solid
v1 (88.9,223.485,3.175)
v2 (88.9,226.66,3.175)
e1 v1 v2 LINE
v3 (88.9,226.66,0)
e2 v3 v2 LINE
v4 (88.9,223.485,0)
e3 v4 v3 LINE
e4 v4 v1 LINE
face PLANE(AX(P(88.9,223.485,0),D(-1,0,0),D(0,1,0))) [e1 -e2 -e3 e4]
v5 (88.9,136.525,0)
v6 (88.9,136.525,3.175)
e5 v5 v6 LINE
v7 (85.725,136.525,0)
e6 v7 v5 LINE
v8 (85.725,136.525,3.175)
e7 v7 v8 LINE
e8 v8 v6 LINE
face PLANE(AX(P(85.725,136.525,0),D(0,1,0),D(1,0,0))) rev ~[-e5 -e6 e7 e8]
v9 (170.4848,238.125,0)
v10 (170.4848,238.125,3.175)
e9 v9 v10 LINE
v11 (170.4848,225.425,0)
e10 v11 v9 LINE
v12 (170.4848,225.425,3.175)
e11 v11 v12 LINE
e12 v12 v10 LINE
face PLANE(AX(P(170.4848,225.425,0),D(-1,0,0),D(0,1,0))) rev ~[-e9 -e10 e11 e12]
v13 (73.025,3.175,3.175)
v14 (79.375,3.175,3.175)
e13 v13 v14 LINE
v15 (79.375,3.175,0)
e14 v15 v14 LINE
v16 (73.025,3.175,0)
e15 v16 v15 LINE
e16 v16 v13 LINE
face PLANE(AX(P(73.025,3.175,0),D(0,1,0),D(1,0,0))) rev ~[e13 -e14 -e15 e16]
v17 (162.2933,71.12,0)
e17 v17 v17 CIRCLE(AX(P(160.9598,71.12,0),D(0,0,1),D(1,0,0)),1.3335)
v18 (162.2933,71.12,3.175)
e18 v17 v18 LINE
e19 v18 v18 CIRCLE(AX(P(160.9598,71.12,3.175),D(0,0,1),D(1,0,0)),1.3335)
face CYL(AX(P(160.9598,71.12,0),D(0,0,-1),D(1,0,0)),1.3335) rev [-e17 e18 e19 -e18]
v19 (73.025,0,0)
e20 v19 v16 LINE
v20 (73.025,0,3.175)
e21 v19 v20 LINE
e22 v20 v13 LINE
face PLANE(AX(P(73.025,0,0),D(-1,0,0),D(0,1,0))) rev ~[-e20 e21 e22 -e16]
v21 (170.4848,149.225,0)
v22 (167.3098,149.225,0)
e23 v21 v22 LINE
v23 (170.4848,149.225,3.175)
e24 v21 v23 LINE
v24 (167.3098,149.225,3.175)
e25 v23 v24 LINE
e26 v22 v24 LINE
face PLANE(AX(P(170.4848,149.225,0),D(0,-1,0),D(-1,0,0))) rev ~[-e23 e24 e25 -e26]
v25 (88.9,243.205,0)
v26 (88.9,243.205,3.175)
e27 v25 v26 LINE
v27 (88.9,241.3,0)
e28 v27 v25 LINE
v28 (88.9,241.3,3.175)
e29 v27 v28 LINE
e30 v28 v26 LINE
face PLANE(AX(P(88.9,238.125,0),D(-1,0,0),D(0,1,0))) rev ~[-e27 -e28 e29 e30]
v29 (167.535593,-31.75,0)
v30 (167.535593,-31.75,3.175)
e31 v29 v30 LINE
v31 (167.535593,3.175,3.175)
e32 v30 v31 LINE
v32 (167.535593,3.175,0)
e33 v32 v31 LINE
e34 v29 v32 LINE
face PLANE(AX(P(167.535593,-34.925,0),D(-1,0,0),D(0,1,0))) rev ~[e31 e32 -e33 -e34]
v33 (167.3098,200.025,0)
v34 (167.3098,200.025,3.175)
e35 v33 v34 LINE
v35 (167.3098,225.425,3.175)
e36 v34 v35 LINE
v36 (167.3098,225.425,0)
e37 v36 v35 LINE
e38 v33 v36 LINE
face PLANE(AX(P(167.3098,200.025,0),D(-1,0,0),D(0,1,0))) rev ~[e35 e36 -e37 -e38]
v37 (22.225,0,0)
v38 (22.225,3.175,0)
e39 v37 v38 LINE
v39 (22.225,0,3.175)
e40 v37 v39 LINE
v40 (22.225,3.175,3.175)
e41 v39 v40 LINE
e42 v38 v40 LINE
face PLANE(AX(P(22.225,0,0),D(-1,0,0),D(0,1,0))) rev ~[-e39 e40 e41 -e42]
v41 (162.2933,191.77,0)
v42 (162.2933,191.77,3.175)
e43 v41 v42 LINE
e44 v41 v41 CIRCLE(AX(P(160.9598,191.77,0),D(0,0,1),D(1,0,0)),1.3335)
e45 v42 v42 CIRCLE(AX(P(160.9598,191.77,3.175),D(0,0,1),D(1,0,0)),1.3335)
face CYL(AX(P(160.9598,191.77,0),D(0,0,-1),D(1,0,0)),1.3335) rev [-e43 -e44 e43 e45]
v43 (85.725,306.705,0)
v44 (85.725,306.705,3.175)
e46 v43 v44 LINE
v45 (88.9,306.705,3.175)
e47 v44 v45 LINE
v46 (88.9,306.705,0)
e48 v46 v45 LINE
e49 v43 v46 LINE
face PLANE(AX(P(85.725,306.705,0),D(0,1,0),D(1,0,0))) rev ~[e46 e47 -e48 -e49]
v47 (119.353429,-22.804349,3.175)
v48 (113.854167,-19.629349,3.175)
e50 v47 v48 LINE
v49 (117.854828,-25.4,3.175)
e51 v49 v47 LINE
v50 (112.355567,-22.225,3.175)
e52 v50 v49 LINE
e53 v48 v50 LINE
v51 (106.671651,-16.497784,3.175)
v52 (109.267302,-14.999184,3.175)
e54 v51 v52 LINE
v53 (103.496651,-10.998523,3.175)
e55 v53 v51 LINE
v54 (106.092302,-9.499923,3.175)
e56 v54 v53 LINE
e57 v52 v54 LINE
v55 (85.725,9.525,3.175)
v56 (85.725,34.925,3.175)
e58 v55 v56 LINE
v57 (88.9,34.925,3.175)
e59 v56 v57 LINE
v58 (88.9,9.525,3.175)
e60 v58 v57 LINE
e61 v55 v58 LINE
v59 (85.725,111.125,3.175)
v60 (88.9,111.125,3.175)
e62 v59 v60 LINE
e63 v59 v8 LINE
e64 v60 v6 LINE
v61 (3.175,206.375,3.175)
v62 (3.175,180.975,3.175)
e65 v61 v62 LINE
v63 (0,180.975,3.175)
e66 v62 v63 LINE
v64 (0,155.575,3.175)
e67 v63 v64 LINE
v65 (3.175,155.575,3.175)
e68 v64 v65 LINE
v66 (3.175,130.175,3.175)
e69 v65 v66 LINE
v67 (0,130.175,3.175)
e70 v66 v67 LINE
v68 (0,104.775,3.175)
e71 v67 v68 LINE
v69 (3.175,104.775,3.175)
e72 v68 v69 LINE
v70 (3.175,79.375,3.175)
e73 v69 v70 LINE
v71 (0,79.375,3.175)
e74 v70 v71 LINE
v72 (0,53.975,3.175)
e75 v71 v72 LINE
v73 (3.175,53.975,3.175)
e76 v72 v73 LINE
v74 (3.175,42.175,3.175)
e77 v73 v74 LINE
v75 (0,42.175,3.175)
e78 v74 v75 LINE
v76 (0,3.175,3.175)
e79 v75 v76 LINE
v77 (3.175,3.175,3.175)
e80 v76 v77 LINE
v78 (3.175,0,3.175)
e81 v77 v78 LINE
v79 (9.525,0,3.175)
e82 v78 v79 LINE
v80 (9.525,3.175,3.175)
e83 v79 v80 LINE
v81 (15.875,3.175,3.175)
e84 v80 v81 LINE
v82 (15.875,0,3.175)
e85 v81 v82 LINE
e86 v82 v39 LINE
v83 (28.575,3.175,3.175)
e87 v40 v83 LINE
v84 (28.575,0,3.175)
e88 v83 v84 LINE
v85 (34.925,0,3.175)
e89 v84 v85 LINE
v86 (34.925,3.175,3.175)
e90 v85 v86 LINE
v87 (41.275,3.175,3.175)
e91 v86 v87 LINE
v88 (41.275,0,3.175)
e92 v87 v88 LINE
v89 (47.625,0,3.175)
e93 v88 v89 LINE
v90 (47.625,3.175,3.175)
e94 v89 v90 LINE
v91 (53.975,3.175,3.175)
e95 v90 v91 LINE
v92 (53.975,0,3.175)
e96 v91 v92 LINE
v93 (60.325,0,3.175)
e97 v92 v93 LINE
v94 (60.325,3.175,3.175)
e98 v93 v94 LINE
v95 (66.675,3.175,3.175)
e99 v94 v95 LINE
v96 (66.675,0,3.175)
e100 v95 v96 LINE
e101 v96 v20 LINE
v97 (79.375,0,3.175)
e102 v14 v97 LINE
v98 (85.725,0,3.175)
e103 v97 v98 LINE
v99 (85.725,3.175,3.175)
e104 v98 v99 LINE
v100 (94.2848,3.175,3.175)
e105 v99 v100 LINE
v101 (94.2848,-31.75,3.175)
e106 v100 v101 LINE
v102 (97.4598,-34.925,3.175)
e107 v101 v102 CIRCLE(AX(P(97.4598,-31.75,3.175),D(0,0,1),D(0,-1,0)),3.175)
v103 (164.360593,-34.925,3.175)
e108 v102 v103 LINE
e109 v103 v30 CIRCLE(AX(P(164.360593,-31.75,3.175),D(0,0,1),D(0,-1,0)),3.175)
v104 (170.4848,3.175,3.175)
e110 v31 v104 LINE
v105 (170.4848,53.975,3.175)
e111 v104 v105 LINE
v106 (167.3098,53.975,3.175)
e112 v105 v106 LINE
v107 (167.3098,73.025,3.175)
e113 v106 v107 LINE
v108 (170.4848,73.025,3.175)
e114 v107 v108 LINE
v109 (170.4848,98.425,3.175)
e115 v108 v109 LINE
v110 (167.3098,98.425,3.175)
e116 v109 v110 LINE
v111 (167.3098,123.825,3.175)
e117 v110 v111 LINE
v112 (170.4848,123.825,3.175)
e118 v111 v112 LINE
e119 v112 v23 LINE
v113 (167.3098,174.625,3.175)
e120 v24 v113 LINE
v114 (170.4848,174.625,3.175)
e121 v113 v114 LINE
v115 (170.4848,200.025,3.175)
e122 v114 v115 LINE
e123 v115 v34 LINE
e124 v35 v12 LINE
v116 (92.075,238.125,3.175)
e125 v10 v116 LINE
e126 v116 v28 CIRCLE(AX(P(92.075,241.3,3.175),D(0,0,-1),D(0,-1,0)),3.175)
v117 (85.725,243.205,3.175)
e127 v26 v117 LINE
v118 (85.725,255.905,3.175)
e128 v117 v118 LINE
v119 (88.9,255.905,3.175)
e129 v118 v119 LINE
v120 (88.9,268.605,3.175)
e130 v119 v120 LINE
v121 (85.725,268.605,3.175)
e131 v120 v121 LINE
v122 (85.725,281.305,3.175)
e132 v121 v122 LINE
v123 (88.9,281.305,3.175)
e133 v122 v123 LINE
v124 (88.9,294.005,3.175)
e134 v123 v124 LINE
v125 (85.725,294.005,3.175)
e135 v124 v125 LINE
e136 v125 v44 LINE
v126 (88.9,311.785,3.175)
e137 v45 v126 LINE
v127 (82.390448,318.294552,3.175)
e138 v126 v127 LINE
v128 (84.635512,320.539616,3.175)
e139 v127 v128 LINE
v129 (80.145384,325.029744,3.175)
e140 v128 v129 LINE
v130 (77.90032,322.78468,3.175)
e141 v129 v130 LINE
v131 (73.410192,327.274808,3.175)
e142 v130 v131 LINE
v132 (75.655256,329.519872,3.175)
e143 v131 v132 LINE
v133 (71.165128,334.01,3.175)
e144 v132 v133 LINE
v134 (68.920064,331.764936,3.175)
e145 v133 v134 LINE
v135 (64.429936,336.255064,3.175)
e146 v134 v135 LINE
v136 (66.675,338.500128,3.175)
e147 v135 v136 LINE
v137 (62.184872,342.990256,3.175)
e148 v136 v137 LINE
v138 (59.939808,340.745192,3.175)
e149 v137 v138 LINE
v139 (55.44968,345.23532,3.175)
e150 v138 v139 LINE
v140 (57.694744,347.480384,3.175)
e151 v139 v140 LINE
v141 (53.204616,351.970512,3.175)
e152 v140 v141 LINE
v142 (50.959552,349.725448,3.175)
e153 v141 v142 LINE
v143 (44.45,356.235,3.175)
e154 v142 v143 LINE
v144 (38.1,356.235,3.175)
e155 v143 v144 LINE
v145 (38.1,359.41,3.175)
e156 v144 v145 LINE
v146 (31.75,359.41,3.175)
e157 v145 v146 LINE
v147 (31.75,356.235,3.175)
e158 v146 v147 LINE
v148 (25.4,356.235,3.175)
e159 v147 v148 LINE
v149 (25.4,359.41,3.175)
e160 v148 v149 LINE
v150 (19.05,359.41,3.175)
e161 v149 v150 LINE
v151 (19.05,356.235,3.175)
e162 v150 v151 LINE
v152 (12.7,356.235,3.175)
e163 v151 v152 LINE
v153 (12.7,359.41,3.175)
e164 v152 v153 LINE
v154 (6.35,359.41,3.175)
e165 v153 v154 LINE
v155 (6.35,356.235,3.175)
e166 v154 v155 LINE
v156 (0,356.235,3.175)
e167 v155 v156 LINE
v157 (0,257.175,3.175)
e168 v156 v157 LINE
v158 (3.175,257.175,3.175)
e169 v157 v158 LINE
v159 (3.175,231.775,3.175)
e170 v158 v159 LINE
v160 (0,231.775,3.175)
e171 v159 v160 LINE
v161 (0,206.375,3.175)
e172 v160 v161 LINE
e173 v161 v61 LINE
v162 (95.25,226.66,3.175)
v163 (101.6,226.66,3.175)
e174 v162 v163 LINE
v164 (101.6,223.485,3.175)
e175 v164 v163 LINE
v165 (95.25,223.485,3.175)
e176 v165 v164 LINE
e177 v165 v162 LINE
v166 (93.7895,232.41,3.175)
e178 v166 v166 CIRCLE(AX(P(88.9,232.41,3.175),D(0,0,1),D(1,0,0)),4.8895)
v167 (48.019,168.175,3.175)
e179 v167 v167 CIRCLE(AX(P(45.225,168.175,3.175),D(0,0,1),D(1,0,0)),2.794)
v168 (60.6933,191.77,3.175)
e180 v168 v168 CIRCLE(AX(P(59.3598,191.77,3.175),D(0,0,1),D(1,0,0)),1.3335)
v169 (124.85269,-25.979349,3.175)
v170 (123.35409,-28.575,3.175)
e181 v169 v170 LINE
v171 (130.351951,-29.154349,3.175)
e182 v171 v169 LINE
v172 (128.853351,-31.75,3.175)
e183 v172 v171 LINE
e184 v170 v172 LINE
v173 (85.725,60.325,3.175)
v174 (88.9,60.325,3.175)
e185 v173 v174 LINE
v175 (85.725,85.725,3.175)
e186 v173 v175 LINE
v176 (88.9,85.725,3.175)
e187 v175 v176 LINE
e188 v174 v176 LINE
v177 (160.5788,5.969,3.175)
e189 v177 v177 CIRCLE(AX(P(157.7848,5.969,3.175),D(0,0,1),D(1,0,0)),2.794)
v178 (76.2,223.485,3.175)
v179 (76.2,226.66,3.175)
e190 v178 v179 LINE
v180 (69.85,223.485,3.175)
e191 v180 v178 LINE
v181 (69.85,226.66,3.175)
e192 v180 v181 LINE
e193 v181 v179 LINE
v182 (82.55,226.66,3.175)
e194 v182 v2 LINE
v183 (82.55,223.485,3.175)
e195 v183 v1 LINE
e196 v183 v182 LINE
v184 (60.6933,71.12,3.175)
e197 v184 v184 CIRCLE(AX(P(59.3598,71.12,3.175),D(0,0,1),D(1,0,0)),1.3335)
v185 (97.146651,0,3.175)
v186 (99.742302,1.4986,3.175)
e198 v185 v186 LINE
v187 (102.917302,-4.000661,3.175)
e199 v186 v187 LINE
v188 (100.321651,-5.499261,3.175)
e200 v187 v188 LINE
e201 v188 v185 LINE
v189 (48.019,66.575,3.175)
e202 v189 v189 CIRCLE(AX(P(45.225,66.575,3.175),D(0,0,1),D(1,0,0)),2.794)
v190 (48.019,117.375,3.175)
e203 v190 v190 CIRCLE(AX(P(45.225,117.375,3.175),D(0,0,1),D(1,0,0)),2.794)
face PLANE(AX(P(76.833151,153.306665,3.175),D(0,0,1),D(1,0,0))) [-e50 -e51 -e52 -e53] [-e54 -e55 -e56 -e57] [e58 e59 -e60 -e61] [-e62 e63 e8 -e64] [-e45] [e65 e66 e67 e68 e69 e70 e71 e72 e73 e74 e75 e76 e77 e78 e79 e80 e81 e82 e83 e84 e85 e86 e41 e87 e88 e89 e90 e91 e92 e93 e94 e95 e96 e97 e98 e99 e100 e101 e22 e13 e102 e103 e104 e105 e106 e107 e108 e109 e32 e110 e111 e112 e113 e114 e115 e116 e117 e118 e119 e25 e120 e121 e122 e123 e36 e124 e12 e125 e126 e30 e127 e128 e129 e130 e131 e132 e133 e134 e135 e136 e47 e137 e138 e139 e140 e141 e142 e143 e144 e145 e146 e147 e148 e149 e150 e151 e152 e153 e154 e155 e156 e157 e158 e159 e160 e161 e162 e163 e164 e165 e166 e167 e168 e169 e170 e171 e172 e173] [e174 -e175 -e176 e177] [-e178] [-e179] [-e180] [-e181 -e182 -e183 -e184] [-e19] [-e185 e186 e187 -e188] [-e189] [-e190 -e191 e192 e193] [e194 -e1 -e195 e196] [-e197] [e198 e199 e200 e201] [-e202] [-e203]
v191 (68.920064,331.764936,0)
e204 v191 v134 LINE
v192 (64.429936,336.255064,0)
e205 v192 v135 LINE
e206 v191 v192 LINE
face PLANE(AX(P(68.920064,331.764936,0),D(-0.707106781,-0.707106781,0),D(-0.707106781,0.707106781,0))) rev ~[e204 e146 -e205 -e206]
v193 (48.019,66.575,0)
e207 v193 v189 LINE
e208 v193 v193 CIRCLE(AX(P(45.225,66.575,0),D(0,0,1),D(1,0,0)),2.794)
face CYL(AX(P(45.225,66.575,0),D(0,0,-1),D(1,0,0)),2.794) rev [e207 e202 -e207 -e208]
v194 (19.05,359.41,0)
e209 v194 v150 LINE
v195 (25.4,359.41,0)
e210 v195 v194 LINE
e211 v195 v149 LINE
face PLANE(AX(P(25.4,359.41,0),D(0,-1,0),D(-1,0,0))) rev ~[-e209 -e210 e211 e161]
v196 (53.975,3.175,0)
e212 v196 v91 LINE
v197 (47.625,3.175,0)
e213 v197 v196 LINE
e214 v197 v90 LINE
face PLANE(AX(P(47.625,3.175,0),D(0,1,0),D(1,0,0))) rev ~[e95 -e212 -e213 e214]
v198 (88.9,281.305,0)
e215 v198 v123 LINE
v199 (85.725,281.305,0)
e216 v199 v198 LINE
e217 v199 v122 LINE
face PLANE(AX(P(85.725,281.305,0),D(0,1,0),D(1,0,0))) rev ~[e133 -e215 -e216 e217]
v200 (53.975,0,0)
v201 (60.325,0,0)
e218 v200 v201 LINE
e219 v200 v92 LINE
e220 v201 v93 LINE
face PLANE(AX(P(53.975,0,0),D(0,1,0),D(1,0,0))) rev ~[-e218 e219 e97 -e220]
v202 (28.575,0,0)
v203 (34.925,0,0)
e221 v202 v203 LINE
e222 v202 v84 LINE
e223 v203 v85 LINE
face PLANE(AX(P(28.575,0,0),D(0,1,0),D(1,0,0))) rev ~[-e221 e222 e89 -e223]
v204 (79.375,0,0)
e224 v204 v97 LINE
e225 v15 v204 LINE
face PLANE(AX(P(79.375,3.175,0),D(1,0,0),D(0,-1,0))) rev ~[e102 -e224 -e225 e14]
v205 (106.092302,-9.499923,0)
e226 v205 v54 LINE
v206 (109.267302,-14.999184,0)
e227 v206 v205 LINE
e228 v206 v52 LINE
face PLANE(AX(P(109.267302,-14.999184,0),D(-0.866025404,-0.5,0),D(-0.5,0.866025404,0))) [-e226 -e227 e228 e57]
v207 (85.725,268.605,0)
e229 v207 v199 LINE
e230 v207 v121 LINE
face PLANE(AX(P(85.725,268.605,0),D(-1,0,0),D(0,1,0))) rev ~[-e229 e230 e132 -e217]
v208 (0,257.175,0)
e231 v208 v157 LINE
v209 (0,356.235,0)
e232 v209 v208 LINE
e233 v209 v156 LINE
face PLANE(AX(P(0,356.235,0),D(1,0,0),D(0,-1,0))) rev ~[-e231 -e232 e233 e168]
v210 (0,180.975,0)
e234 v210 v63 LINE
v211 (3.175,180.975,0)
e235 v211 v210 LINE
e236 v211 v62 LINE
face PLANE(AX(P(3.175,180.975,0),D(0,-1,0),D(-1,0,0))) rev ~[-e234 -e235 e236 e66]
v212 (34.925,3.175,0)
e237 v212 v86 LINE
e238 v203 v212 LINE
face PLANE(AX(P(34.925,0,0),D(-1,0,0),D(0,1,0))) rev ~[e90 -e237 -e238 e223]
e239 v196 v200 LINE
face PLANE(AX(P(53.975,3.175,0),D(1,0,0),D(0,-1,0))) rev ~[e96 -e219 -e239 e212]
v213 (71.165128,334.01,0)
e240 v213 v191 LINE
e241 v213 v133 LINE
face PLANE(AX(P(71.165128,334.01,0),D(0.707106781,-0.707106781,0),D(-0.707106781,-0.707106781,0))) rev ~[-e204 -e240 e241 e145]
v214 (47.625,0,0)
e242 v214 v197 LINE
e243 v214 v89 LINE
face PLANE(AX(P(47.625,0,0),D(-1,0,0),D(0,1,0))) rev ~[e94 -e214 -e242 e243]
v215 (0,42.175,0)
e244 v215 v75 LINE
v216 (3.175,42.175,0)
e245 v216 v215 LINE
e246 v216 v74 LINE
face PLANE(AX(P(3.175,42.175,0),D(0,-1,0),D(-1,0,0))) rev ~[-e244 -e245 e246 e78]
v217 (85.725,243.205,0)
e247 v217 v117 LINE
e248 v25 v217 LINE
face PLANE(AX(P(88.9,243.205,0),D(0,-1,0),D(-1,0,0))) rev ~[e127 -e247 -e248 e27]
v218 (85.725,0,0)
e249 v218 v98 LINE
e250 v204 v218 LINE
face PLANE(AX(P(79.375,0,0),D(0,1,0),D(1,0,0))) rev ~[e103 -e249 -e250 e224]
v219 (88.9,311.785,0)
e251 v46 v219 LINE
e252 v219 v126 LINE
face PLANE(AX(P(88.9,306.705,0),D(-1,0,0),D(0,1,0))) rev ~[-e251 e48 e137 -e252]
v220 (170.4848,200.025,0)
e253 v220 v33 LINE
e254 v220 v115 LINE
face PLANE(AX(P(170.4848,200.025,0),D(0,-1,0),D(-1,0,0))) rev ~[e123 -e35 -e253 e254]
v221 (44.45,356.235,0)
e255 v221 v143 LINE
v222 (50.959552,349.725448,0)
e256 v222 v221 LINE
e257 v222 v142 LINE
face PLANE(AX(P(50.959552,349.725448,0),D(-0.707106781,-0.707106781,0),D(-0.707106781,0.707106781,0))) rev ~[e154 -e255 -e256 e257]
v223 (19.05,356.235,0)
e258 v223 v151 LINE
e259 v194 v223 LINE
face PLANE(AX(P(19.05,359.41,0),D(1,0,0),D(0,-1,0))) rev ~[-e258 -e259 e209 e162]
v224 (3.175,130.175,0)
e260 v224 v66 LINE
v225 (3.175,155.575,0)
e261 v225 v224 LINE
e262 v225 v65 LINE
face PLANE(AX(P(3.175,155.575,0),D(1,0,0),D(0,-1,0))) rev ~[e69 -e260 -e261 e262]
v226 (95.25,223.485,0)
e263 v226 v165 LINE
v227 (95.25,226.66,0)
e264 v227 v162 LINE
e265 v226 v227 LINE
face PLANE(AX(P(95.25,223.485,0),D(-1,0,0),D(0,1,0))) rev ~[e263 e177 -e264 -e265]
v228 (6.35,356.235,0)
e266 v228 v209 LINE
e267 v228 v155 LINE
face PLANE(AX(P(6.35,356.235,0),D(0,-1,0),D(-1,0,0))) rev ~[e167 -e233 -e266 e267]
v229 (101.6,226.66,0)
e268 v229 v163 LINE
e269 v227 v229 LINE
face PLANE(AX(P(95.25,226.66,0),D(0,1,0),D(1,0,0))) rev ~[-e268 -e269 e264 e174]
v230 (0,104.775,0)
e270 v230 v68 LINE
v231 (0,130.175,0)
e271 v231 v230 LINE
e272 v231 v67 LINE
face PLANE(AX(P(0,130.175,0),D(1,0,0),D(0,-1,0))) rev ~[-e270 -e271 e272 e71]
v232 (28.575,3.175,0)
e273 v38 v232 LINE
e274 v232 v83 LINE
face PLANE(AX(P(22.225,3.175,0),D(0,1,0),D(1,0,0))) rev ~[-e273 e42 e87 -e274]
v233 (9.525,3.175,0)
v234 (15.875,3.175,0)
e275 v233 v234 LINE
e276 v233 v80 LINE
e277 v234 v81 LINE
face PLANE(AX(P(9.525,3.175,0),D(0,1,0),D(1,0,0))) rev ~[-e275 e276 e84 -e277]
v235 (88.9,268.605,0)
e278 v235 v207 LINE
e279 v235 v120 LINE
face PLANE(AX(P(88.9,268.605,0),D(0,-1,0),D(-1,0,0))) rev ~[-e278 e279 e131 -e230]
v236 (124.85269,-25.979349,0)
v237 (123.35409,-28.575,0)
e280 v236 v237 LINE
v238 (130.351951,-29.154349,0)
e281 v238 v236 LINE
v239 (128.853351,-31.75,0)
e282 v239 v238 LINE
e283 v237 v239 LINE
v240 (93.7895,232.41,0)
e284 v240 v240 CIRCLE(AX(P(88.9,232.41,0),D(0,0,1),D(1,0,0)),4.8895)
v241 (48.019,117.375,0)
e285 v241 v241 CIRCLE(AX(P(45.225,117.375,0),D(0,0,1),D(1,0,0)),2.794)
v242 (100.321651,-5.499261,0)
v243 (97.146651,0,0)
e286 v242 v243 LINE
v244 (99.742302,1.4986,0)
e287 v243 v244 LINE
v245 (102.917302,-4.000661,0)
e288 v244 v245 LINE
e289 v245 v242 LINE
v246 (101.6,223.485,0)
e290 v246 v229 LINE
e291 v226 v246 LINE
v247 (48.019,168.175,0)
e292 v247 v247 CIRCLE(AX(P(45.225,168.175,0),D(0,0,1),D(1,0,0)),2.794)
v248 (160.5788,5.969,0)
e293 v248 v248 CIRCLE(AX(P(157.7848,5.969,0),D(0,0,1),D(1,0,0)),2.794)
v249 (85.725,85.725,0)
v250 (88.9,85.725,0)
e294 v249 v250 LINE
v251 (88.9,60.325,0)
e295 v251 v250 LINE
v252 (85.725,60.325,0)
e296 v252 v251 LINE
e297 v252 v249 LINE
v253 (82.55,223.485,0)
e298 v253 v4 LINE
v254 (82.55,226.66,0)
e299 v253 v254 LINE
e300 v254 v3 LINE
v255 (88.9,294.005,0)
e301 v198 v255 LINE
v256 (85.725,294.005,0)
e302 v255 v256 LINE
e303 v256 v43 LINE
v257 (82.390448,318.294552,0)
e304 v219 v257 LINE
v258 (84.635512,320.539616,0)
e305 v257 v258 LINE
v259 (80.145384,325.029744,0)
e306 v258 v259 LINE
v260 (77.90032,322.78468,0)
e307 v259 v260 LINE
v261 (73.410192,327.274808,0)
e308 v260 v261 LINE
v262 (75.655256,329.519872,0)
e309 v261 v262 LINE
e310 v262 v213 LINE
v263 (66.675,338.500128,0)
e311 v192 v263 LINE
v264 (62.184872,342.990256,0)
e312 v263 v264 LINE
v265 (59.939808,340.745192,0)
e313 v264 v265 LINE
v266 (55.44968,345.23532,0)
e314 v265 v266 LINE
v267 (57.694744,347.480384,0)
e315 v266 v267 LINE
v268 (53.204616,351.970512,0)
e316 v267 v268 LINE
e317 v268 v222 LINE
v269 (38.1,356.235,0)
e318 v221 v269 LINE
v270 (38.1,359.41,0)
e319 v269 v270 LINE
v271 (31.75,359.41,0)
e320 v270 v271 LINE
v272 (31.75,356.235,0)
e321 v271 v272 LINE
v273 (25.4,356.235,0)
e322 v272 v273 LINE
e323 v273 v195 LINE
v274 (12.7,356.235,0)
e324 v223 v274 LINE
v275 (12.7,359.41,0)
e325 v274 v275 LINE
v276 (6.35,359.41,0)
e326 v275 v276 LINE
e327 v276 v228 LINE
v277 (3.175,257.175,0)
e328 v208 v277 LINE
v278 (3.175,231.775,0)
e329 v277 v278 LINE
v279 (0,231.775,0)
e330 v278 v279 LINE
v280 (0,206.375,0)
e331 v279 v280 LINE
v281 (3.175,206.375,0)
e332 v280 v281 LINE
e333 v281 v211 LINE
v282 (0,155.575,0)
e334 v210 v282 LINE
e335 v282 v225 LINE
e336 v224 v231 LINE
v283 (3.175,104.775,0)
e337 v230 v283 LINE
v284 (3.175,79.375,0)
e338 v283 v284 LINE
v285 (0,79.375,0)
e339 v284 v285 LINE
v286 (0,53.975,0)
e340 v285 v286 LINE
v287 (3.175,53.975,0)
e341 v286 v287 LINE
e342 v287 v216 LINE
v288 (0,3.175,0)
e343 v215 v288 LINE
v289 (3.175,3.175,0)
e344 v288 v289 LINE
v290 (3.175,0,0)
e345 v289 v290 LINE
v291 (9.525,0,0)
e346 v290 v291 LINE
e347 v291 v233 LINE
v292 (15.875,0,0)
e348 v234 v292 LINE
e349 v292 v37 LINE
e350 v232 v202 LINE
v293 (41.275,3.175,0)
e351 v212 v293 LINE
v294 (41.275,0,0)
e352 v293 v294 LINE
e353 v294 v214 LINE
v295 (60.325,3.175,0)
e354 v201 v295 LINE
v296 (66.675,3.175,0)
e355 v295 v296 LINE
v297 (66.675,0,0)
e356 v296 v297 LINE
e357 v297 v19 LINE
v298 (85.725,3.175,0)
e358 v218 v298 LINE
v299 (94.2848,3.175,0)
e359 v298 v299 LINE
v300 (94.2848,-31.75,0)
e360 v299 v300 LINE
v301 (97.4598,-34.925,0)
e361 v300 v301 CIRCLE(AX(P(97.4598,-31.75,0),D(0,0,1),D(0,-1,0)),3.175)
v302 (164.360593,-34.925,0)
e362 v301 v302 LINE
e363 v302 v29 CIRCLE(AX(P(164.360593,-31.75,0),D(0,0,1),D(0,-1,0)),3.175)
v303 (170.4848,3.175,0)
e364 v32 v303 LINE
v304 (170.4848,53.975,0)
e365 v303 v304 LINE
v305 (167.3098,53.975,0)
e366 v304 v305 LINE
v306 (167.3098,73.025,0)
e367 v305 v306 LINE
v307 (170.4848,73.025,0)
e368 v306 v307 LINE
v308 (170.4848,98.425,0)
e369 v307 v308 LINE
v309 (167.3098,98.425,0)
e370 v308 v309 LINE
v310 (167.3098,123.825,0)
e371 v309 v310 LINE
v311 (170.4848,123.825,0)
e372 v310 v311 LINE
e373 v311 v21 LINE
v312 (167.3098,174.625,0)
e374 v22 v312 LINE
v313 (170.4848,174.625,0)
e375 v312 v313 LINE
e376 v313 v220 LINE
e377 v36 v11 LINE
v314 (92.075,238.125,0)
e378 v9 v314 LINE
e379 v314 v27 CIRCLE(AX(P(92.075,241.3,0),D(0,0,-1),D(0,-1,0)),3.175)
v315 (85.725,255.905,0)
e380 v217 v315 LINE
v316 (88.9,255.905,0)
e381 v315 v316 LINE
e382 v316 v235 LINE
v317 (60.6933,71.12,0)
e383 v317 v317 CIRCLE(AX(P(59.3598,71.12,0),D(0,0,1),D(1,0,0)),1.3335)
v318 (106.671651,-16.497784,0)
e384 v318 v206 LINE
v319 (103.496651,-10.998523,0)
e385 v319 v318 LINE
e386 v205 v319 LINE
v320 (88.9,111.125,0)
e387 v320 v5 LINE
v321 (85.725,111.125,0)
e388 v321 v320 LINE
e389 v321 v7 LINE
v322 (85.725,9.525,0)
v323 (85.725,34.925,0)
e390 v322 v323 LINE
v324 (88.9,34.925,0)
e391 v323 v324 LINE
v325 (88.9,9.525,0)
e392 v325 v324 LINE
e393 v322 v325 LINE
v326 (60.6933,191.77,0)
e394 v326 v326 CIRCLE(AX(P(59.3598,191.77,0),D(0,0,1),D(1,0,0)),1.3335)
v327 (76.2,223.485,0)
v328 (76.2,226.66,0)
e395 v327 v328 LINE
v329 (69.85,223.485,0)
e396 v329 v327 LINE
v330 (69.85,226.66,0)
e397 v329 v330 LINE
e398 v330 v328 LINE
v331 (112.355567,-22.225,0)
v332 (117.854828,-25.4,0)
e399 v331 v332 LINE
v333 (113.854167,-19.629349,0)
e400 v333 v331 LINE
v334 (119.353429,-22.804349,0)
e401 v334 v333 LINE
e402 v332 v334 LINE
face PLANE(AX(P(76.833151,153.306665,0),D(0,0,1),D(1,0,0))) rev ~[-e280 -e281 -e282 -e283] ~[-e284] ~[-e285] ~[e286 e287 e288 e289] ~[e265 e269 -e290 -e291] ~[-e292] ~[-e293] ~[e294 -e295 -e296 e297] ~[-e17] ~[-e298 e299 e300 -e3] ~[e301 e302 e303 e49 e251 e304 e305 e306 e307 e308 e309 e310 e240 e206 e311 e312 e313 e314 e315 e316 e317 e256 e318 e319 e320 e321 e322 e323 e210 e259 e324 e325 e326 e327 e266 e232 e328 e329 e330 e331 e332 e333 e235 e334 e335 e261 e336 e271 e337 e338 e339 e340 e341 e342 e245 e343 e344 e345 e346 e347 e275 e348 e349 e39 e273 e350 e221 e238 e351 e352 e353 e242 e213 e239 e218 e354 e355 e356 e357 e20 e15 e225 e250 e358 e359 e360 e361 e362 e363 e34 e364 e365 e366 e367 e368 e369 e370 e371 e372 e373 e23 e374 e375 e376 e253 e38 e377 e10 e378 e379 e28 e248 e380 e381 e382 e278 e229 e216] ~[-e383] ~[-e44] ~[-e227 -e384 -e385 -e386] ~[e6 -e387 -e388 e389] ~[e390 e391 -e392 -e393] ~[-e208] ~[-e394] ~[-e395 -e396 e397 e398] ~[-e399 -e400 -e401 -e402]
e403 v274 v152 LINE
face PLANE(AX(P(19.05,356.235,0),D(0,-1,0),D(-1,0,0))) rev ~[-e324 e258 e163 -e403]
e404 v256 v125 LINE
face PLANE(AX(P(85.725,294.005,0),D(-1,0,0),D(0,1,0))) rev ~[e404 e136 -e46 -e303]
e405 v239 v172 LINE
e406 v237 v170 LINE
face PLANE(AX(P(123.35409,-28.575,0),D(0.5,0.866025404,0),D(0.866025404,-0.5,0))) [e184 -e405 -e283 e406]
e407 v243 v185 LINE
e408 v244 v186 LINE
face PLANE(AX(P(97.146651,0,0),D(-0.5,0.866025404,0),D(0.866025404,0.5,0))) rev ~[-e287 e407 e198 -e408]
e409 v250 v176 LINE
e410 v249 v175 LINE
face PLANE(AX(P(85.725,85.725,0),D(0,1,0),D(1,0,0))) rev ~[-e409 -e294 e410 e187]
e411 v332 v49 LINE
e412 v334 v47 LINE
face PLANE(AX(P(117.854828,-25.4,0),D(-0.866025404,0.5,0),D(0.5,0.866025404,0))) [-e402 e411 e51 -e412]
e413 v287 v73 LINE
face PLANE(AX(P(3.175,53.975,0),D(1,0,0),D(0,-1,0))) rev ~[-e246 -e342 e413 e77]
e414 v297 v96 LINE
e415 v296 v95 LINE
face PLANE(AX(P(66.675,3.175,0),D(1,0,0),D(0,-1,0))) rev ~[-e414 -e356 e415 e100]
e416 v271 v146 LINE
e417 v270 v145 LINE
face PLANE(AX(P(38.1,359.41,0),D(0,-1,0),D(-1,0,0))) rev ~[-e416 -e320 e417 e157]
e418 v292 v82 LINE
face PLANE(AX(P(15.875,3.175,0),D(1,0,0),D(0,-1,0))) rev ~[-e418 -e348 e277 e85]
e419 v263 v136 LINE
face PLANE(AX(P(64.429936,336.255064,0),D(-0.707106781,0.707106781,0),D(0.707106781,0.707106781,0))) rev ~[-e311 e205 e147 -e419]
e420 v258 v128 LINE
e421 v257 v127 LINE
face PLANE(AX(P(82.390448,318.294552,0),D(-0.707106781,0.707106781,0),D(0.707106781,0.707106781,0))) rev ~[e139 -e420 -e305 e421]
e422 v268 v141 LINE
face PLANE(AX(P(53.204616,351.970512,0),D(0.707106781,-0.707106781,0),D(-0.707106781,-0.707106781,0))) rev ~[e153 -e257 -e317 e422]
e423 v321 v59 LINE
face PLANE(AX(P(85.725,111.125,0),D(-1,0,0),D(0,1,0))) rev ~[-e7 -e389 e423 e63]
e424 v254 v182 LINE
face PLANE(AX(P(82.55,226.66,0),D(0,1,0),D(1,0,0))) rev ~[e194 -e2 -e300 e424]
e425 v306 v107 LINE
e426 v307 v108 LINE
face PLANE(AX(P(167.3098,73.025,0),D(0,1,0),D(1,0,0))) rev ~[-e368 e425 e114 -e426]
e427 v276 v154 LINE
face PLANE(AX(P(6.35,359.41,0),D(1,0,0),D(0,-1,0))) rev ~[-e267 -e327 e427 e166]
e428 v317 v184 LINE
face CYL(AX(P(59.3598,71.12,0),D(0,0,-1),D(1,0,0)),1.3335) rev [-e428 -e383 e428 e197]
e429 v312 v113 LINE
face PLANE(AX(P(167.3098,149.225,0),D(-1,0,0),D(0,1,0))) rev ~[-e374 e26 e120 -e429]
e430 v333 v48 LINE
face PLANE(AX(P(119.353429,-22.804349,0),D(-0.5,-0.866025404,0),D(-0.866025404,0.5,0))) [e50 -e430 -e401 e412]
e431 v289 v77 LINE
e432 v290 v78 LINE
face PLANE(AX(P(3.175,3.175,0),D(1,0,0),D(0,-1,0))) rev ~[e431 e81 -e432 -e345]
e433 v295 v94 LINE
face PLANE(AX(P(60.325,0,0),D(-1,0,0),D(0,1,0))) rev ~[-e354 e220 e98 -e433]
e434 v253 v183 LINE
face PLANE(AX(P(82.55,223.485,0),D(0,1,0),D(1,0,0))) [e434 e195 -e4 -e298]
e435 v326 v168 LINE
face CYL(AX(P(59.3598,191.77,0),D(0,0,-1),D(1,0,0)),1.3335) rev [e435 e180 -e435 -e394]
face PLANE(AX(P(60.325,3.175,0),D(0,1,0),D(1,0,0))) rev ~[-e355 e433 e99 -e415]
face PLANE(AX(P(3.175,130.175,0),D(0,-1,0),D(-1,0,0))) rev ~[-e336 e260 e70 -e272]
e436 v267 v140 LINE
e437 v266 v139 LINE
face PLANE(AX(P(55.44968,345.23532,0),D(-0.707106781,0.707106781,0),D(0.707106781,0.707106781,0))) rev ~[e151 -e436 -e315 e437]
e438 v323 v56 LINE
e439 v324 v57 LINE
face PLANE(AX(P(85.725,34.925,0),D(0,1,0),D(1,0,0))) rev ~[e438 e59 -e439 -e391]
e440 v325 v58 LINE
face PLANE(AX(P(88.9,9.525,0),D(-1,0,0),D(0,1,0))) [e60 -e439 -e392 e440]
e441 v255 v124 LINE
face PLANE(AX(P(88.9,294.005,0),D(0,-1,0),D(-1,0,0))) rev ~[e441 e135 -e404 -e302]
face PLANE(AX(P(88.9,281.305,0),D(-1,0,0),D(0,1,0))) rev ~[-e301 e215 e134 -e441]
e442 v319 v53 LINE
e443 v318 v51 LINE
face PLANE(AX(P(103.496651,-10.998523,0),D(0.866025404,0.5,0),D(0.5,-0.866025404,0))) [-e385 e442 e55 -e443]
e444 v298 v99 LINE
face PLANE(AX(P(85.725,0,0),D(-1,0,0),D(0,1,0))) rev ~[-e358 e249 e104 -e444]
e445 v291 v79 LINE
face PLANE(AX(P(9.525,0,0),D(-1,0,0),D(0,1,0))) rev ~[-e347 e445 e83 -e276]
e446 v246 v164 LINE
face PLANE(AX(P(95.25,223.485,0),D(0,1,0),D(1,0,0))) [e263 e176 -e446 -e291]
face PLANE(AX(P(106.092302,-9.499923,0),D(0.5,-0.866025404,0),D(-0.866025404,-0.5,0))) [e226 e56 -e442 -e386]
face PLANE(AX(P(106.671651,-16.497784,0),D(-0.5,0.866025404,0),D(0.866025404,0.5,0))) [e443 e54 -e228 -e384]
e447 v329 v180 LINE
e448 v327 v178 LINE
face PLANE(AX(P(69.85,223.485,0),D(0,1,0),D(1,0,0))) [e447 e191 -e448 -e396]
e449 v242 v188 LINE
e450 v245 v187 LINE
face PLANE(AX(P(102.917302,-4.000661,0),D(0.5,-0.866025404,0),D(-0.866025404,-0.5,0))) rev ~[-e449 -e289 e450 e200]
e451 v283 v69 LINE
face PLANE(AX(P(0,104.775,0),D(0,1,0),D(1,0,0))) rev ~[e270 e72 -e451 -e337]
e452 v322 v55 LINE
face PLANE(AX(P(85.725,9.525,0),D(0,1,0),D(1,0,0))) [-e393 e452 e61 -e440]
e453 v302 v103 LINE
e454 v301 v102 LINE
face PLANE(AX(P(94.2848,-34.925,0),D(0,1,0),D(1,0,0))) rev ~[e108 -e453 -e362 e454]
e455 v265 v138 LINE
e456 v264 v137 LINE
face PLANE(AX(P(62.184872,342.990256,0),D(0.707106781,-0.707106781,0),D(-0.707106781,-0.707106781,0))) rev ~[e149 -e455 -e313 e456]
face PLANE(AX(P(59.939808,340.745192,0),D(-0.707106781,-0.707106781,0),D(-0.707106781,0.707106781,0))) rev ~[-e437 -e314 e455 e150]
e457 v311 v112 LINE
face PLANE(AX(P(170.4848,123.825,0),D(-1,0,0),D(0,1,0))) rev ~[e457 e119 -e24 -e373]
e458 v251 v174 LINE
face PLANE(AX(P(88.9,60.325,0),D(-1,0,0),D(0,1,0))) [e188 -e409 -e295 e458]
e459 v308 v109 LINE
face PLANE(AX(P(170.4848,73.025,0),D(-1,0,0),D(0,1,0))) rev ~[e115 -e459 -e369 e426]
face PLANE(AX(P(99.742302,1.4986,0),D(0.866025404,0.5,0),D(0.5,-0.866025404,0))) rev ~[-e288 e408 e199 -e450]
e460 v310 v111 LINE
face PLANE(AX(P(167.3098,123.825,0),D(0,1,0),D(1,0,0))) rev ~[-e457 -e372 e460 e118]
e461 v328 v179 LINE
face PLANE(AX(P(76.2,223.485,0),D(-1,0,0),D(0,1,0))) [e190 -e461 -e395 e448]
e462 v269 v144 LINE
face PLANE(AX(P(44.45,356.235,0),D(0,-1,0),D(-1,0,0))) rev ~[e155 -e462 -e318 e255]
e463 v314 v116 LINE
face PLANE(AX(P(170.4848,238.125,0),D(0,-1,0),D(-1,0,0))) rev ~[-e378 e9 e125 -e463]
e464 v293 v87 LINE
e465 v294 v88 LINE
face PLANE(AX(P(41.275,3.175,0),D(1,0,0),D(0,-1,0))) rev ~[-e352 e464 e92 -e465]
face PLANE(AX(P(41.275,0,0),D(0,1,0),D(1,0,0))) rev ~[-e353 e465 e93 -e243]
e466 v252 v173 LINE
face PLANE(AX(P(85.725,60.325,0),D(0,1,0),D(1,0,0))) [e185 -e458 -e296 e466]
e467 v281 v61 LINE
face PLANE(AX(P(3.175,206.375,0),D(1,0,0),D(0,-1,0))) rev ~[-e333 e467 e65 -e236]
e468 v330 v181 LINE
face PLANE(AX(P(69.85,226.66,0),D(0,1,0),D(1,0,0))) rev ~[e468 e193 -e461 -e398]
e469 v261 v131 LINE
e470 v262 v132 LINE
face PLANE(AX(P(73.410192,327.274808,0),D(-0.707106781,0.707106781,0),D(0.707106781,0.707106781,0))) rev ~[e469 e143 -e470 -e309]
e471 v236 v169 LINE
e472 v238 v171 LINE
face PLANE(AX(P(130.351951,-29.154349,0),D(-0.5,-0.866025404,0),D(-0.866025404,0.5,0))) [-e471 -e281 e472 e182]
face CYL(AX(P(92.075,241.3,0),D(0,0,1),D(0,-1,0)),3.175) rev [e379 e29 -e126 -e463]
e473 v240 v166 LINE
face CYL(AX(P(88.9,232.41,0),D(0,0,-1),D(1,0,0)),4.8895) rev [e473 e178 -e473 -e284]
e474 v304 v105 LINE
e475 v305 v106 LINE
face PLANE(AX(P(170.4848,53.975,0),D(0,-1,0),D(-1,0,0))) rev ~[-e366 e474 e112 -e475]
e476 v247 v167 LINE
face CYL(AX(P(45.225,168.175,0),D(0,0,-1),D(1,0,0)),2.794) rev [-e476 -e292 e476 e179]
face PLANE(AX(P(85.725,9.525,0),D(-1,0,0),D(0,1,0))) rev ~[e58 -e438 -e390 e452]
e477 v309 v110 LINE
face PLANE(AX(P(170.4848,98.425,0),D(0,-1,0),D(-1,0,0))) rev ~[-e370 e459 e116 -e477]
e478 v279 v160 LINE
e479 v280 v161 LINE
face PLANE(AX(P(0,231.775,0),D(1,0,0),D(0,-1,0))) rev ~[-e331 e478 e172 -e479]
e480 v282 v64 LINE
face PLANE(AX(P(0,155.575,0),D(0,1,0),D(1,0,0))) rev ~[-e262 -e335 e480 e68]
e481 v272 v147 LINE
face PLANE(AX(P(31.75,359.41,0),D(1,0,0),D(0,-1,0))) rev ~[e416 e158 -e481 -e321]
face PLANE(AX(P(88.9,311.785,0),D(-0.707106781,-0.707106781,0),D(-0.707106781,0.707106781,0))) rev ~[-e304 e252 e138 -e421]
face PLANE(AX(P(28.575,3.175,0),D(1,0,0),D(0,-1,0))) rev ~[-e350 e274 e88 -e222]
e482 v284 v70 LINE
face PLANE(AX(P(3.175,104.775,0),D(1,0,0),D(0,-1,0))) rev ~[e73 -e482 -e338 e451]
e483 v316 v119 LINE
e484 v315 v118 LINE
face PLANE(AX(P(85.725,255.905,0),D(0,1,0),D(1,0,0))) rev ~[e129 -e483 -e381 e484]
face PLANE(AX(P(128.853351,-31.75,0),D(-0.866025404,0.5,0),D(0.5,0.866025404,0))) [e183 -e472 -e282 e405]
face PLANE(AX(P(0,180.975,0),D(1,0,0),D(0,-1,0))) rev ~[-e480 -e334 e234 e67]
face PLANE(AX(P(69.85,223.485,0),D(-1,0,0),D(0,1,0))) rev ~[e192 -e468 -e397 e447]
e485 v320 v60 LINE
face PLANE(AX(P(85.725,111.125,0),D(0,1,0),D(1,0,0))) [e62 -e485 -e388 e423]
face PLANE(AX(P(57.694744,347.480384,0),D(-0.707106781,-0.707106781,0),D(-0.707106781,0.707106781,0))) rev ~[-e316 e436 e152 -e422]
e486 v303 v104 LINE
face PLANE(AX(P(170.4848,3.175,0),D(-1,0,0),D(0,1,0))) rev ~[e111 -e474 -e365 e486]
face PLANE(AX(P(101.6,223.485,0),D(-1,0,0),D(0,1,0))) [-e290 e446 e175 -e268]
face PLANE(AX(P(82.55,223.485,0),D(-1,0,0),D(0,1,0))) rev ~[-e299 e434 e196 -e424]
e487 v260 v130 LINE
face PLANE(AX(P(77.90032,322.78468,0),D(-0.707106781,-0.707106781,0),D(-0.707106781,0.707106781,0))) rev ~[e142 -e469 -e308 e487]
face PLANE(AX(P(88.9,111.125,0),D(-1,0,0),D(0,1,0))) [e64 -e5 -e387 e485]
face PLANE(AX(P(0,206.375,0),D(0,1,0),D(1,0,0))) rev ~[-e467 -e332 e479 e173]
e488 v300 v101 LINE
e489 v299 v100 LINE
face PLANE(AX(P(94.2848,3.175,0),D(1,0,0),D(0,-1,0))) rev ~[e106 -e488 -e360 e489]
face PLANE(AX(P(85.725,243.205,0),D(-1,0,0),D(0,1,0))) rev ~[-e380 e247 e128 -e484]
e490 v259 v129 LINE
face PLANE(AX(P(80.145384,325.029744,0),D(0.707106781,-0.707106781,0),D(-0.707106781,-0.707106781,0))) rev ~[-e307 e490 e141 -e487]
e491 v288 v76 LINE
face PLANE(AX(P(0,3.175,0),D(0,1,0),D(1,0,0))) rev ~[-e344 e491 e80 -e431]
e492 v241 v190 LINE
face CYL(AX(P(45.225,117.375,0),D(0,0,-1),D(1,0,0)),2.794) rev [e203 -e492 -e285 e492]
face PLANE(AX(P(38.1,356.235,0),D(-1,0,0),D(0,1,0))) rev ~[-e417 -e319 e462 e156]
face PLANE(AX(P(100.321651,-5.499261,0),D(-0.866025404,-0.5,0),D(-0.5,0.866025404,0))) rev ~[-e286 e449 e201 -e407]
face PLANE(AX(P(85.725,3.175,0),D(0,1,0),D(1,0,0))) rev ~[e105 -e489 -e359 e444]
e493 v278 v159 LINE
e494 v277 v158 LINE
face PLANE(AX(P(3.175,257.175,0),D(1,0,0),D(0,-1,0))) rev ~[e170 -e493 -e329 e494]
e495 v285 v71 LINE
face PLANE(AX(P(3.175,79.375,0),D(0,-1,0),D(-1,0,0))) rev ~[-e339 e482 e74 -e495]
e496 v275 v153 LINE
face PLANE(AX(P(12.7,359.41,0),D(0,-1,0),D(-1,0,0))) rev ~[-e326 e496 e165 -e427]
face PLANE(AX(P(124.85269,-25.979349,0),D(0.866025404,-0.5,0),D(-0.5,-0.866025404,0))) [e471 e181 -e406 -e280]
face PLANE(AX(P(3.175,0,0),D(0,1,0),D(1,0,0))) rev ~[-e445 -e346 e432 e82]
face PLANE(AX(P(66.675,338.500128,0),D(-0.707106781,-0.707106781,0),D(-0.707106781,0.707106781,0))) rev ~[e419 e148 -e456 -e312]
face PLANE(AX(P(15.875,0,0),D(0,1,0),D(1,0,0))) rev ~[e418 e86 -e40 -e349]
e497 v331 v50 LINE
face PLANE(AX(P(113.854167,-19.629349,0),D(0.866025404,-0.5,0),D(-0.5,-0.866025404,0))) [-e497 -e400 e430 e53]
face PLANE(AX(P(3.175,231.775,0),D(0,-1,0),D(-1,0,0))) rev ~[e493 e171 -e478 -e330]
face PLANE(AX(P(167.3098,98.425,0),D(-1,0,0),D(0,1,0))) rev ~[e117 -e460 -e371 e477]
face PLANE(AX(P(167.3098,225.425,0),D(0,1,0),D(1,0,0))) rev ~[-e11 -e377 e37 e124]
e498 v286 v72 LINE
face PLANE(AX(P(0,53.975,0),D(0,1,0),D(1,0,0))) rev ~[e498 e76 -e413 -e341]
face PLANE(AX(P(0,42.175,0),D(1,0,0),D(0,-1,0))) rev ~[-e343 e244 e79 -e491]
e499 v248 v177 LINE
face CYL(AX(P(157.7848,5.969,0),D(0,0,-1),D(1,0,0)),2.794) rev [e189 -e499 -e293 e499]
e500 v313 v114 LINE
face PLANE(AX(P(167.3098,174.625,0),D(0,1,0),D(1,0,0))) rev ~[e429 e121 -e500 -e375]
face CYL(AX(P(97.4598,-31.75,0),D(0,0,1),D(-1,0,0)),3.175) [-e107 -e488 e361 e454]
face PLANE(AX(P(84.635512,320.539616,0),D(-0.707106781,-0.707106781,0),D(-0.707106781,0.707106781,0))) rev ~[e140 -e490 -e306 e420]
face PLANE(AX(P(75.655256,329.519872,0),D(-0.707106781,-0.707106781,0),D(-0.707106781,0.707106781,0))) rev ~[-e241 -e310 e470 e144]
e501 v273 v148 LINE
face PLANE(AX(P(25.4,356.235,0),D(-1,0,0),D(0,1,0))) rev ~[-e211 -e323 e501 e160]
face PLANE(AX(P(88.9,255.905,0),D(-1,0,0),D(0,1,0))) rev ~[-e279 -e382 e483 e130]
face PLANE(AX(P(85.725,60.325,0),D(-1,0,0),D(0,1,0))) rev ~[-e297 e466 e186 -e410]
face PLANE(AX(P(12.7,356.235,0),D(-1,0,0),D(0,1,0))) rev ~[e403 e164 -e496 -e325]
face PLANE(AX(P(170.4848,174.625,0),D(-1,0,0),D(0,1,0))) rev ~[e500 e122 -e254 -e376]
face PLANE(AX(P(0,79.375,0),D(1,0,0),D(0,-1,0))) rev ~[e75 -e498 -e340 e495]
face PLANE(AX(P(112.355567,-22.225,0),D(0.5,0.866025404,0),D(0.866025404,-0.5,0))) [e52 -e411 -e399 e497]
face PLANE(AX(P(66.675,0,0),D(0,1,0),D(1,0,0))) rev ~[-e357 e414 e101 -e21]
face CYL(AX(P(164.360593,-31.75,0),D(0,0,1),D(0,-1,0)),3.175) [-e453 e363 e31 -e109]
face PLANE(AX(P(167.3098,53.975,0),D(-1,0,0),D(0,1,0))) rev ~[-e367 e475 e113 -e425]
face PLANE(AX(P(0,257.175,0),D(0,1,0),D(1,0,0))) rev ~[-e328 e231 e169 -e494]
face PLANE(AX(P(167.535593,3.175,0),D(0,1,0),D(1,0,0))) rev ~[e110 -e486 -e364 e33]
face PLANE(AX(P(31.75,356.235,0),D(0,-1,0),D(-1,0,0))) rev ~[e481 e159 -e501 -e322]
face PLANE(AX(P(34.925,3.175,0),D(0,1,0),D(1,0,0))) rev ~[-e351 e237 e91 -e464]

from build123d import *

# Parameters (mm, degrees)
SKETCH1_R           = 4.8895
SKETCH1_R_2         = 1.3335
SKETCH1_R_3         = 2.794
SKETCH1_W           = 3.175
SKETCH1_H           = 25.4
SKETCH1_W_2         = 6.35
SKETCH1_H_2         = 3.175
BOSS_EXTRUDE2_DEPTH = 3.175
FILLET1_R           = 3.175


with BuildPart() as part:
    # Sketch1 → Boss-Extrude2 (new body)
    with BuildSketch(Plane.XY):
        Polygon((0, 3.175), (3.175, 3.175), (3.175, 0), (9.525, 0), (9.525, 3.175), (15.875, 3.175), (15.875, 0), (22.225, 0), (22.225, 3.175), (28.575, 3.175), (28.575, 0), (34.925, 0), (34.925, 3.175), (41.275, 3.175), (41.275, 0), (47.625, 0), (47.625, 3.175), (53.975, 3.175), (53.975, 0), (60.325, 0), (60.325, 3.175), (66.675, 3.175), (66.675, 0), (73.025, 0), (73.025, 3.175), (79.375, 3.175), (79.375, 0), (85.725, 0), (85.725, 3.175), (88.9, 3.175), (94.2848, 3.175), (94.2848, -34.925), (167.535593046, -34.925), (167.535593046, 3.175), (170.4848, 3.175), (170.4848, 53.975), (167.3098, 53.975), (167.3098, 73.025), (170.4848, 73.025), (170.4848, 98.425), (167.3098, 98.425), (167.3098, 123.825), (170.4848, 123.825), (170.4848, 149.225), (167.3098, 149.225), (167.3098, 174.625), (170.4848, 174.625), (170.4848, 200.025), (167.3098, 200.025), (167.3098, 225.425), (170.4848, 225.425), (170.4848, 238.125), (88.9, 238.125), (88.9, 243.205), (85.725, 243.205), (85.725, 255.905), (88.9, 255.905), (88.9, 268.605), (85.725, 268.605), (85.725, 281.305), (88.9, 281.305), (88.9, 294.005), (85.725, 294.005), (85.725, 306.705), (88.9, 306.705), (88.9, 311.785), (82.390448212, 318.294551788), (84.635512242, 320.539615818), (80.145384182, 325.029743879), (77.900320151, 322.784679849), (73.410192091, 327.274807909), (75.655256121, 329.519871939), (71.165128061, 334.01), (68.92006403, 331.76493597), (64.42993597, 336.25506403), (66.675, 338.500128061), (62.184871939, 342.990256121), (59.939807909, 340.745192091), (55.449679849, 345.235320151), (57.694743879, 347.480384182), (53.204615818, 351.970512242), (50.959551788, 349.725448212), (44.45, 356.235), (38.1, 356.235), (38.1, 359.41), (31.75, 359.41), (31.75, 356.235), (25.4, 356.235), (25.4, 359.41), (19.05, 359.41), (19.05, 356.235), (12.7, 356.235), (12.7, 359.41), (6.35, 359.41), (6.35, 356.235), (0, 356.235), (0, 257.175), (3.175, 257.175), (3.175, 231.775), (0, 231.775), (0, 206.375), (3.175, 206.375), (3.175, 180.975), (0, 180.975), (0, 155.575), (3.175, 155.575), (3.175, 130.175), (0, 130.175), (0, 104.775), (3.175, 104.775), (3.175, 79.375), (0, 79.375), (0, 53.975), (3.175, 53.975), (3.175, 42.175), (0, 42.175), (0, 28.575), align=None)
        with Locations((88.9, 232.41)):
            Circle(SKETCH1_R, mode=Mode.SUBTRACT)
        with Locations((59.3598, 191.77)):
            Circle(SKETCH1_R_2, mode=Mode.SUBTRACT)
        with Locations((59.3598, 71.12)):
            Circle(SKETCH1_R_2, mode=Mode.SUBTRACT)
        with Locations((160.9598, 71.12)):
            Circle(SKETCH1_R_2, mode=Mode.SUBTRACT)
        with Locations((160.9598, 191.77)):
            Circle(SKETCH1_R_2, mode=Mode.SUBTRACT)
        with Locations((157.7848, 5.969)):
            Circle(SKETCH1_R_3, mode=Mode.SUBTRACT)
        with Locations((45.225, 66.574999946)):
            Circle(SKETCH1_R_3, mode=Mode.SUBTRACT)
        with Locations((45.225, 117.374999946)):
            Circle(SKETCH1_R_3, mode=Mode.SUBTRACT)
        with Locations((45.225, 168.174999946)):
            Circle(SKETCH1_R_3, mode=Mode.SUBTRACT)
        with Locations((87.3125, 123.825)):
            Rectangle(SKETCH1_W, SKETCH1_H, mode=Mode.SUBTRACT)
        Polygon((99.742302456, 1.4986), (102.917302456, -4.000661314), (100.321651116, -5.499261314), (97.146651116, 0), align=None, mode=Mode.SUBTRACT)
        with Locations((87.3125, 73.025)):
            Rectangle(SKETCH1_W, SKETCH1_H, mode=Mode.SUBTRACT)
        with Locations((87.3125, 22.225)):
            Rectangle(SKETCH1_W, SKETCH1_H, mode=Mode.SUBTRACT)
        with Locations((73.025, 225.0725)):
            Rectangle(SKETCH1_W_2, SKETCH1_H_2, mode=Mode.SUBTRACT)
        with Locations((85.725, 225.0725)):
            Rectangle(SKETCH1_W_2, SKETCH1_H_2, mode=Mode.SUBTRACT)
        with Locations((98.425, 225.0725)):
            Rectangle(SKETCH1_W_2, SKETCH1_H_2, mode=Mode.SUBTRACT)
        Polygon((106.092302456, -9.499922628), (103.496651116, -10.998522628), (106.671651116, -16.497783942), (109.267302456, -14.999183942), align=None, mode=Mode.SUBTRACT)
        Polygon((113.854167186, -19.62934866), (112.355567186, -22.225), (117.8548285, -25.4), (119.3534285, -22.80434866), align=None, mode=Mode.SUBTRACT)
        Polygon((124.852689814, -25.97934866), (123.354089814, -28.575), (128.853351128, -31.75), (130.351951128, -29.15434866), align=None, mode=Mode.SUBTRACT)
    extrude(amount=BOSS_EXTRUDE2_DEPTH)

    # Fillet1
    fillet1_edges = [part.edges().sort_by_distance(p)[0] for p in [
        (88.9, 238.125, 1.5875),
        (167.535593046, -34.925, 1.5875),
        (94.2848, -34.925, 1.5875),
    ]]
    fillet(fillet1_edges, radius=FILLET1_R)


solid = part.part
